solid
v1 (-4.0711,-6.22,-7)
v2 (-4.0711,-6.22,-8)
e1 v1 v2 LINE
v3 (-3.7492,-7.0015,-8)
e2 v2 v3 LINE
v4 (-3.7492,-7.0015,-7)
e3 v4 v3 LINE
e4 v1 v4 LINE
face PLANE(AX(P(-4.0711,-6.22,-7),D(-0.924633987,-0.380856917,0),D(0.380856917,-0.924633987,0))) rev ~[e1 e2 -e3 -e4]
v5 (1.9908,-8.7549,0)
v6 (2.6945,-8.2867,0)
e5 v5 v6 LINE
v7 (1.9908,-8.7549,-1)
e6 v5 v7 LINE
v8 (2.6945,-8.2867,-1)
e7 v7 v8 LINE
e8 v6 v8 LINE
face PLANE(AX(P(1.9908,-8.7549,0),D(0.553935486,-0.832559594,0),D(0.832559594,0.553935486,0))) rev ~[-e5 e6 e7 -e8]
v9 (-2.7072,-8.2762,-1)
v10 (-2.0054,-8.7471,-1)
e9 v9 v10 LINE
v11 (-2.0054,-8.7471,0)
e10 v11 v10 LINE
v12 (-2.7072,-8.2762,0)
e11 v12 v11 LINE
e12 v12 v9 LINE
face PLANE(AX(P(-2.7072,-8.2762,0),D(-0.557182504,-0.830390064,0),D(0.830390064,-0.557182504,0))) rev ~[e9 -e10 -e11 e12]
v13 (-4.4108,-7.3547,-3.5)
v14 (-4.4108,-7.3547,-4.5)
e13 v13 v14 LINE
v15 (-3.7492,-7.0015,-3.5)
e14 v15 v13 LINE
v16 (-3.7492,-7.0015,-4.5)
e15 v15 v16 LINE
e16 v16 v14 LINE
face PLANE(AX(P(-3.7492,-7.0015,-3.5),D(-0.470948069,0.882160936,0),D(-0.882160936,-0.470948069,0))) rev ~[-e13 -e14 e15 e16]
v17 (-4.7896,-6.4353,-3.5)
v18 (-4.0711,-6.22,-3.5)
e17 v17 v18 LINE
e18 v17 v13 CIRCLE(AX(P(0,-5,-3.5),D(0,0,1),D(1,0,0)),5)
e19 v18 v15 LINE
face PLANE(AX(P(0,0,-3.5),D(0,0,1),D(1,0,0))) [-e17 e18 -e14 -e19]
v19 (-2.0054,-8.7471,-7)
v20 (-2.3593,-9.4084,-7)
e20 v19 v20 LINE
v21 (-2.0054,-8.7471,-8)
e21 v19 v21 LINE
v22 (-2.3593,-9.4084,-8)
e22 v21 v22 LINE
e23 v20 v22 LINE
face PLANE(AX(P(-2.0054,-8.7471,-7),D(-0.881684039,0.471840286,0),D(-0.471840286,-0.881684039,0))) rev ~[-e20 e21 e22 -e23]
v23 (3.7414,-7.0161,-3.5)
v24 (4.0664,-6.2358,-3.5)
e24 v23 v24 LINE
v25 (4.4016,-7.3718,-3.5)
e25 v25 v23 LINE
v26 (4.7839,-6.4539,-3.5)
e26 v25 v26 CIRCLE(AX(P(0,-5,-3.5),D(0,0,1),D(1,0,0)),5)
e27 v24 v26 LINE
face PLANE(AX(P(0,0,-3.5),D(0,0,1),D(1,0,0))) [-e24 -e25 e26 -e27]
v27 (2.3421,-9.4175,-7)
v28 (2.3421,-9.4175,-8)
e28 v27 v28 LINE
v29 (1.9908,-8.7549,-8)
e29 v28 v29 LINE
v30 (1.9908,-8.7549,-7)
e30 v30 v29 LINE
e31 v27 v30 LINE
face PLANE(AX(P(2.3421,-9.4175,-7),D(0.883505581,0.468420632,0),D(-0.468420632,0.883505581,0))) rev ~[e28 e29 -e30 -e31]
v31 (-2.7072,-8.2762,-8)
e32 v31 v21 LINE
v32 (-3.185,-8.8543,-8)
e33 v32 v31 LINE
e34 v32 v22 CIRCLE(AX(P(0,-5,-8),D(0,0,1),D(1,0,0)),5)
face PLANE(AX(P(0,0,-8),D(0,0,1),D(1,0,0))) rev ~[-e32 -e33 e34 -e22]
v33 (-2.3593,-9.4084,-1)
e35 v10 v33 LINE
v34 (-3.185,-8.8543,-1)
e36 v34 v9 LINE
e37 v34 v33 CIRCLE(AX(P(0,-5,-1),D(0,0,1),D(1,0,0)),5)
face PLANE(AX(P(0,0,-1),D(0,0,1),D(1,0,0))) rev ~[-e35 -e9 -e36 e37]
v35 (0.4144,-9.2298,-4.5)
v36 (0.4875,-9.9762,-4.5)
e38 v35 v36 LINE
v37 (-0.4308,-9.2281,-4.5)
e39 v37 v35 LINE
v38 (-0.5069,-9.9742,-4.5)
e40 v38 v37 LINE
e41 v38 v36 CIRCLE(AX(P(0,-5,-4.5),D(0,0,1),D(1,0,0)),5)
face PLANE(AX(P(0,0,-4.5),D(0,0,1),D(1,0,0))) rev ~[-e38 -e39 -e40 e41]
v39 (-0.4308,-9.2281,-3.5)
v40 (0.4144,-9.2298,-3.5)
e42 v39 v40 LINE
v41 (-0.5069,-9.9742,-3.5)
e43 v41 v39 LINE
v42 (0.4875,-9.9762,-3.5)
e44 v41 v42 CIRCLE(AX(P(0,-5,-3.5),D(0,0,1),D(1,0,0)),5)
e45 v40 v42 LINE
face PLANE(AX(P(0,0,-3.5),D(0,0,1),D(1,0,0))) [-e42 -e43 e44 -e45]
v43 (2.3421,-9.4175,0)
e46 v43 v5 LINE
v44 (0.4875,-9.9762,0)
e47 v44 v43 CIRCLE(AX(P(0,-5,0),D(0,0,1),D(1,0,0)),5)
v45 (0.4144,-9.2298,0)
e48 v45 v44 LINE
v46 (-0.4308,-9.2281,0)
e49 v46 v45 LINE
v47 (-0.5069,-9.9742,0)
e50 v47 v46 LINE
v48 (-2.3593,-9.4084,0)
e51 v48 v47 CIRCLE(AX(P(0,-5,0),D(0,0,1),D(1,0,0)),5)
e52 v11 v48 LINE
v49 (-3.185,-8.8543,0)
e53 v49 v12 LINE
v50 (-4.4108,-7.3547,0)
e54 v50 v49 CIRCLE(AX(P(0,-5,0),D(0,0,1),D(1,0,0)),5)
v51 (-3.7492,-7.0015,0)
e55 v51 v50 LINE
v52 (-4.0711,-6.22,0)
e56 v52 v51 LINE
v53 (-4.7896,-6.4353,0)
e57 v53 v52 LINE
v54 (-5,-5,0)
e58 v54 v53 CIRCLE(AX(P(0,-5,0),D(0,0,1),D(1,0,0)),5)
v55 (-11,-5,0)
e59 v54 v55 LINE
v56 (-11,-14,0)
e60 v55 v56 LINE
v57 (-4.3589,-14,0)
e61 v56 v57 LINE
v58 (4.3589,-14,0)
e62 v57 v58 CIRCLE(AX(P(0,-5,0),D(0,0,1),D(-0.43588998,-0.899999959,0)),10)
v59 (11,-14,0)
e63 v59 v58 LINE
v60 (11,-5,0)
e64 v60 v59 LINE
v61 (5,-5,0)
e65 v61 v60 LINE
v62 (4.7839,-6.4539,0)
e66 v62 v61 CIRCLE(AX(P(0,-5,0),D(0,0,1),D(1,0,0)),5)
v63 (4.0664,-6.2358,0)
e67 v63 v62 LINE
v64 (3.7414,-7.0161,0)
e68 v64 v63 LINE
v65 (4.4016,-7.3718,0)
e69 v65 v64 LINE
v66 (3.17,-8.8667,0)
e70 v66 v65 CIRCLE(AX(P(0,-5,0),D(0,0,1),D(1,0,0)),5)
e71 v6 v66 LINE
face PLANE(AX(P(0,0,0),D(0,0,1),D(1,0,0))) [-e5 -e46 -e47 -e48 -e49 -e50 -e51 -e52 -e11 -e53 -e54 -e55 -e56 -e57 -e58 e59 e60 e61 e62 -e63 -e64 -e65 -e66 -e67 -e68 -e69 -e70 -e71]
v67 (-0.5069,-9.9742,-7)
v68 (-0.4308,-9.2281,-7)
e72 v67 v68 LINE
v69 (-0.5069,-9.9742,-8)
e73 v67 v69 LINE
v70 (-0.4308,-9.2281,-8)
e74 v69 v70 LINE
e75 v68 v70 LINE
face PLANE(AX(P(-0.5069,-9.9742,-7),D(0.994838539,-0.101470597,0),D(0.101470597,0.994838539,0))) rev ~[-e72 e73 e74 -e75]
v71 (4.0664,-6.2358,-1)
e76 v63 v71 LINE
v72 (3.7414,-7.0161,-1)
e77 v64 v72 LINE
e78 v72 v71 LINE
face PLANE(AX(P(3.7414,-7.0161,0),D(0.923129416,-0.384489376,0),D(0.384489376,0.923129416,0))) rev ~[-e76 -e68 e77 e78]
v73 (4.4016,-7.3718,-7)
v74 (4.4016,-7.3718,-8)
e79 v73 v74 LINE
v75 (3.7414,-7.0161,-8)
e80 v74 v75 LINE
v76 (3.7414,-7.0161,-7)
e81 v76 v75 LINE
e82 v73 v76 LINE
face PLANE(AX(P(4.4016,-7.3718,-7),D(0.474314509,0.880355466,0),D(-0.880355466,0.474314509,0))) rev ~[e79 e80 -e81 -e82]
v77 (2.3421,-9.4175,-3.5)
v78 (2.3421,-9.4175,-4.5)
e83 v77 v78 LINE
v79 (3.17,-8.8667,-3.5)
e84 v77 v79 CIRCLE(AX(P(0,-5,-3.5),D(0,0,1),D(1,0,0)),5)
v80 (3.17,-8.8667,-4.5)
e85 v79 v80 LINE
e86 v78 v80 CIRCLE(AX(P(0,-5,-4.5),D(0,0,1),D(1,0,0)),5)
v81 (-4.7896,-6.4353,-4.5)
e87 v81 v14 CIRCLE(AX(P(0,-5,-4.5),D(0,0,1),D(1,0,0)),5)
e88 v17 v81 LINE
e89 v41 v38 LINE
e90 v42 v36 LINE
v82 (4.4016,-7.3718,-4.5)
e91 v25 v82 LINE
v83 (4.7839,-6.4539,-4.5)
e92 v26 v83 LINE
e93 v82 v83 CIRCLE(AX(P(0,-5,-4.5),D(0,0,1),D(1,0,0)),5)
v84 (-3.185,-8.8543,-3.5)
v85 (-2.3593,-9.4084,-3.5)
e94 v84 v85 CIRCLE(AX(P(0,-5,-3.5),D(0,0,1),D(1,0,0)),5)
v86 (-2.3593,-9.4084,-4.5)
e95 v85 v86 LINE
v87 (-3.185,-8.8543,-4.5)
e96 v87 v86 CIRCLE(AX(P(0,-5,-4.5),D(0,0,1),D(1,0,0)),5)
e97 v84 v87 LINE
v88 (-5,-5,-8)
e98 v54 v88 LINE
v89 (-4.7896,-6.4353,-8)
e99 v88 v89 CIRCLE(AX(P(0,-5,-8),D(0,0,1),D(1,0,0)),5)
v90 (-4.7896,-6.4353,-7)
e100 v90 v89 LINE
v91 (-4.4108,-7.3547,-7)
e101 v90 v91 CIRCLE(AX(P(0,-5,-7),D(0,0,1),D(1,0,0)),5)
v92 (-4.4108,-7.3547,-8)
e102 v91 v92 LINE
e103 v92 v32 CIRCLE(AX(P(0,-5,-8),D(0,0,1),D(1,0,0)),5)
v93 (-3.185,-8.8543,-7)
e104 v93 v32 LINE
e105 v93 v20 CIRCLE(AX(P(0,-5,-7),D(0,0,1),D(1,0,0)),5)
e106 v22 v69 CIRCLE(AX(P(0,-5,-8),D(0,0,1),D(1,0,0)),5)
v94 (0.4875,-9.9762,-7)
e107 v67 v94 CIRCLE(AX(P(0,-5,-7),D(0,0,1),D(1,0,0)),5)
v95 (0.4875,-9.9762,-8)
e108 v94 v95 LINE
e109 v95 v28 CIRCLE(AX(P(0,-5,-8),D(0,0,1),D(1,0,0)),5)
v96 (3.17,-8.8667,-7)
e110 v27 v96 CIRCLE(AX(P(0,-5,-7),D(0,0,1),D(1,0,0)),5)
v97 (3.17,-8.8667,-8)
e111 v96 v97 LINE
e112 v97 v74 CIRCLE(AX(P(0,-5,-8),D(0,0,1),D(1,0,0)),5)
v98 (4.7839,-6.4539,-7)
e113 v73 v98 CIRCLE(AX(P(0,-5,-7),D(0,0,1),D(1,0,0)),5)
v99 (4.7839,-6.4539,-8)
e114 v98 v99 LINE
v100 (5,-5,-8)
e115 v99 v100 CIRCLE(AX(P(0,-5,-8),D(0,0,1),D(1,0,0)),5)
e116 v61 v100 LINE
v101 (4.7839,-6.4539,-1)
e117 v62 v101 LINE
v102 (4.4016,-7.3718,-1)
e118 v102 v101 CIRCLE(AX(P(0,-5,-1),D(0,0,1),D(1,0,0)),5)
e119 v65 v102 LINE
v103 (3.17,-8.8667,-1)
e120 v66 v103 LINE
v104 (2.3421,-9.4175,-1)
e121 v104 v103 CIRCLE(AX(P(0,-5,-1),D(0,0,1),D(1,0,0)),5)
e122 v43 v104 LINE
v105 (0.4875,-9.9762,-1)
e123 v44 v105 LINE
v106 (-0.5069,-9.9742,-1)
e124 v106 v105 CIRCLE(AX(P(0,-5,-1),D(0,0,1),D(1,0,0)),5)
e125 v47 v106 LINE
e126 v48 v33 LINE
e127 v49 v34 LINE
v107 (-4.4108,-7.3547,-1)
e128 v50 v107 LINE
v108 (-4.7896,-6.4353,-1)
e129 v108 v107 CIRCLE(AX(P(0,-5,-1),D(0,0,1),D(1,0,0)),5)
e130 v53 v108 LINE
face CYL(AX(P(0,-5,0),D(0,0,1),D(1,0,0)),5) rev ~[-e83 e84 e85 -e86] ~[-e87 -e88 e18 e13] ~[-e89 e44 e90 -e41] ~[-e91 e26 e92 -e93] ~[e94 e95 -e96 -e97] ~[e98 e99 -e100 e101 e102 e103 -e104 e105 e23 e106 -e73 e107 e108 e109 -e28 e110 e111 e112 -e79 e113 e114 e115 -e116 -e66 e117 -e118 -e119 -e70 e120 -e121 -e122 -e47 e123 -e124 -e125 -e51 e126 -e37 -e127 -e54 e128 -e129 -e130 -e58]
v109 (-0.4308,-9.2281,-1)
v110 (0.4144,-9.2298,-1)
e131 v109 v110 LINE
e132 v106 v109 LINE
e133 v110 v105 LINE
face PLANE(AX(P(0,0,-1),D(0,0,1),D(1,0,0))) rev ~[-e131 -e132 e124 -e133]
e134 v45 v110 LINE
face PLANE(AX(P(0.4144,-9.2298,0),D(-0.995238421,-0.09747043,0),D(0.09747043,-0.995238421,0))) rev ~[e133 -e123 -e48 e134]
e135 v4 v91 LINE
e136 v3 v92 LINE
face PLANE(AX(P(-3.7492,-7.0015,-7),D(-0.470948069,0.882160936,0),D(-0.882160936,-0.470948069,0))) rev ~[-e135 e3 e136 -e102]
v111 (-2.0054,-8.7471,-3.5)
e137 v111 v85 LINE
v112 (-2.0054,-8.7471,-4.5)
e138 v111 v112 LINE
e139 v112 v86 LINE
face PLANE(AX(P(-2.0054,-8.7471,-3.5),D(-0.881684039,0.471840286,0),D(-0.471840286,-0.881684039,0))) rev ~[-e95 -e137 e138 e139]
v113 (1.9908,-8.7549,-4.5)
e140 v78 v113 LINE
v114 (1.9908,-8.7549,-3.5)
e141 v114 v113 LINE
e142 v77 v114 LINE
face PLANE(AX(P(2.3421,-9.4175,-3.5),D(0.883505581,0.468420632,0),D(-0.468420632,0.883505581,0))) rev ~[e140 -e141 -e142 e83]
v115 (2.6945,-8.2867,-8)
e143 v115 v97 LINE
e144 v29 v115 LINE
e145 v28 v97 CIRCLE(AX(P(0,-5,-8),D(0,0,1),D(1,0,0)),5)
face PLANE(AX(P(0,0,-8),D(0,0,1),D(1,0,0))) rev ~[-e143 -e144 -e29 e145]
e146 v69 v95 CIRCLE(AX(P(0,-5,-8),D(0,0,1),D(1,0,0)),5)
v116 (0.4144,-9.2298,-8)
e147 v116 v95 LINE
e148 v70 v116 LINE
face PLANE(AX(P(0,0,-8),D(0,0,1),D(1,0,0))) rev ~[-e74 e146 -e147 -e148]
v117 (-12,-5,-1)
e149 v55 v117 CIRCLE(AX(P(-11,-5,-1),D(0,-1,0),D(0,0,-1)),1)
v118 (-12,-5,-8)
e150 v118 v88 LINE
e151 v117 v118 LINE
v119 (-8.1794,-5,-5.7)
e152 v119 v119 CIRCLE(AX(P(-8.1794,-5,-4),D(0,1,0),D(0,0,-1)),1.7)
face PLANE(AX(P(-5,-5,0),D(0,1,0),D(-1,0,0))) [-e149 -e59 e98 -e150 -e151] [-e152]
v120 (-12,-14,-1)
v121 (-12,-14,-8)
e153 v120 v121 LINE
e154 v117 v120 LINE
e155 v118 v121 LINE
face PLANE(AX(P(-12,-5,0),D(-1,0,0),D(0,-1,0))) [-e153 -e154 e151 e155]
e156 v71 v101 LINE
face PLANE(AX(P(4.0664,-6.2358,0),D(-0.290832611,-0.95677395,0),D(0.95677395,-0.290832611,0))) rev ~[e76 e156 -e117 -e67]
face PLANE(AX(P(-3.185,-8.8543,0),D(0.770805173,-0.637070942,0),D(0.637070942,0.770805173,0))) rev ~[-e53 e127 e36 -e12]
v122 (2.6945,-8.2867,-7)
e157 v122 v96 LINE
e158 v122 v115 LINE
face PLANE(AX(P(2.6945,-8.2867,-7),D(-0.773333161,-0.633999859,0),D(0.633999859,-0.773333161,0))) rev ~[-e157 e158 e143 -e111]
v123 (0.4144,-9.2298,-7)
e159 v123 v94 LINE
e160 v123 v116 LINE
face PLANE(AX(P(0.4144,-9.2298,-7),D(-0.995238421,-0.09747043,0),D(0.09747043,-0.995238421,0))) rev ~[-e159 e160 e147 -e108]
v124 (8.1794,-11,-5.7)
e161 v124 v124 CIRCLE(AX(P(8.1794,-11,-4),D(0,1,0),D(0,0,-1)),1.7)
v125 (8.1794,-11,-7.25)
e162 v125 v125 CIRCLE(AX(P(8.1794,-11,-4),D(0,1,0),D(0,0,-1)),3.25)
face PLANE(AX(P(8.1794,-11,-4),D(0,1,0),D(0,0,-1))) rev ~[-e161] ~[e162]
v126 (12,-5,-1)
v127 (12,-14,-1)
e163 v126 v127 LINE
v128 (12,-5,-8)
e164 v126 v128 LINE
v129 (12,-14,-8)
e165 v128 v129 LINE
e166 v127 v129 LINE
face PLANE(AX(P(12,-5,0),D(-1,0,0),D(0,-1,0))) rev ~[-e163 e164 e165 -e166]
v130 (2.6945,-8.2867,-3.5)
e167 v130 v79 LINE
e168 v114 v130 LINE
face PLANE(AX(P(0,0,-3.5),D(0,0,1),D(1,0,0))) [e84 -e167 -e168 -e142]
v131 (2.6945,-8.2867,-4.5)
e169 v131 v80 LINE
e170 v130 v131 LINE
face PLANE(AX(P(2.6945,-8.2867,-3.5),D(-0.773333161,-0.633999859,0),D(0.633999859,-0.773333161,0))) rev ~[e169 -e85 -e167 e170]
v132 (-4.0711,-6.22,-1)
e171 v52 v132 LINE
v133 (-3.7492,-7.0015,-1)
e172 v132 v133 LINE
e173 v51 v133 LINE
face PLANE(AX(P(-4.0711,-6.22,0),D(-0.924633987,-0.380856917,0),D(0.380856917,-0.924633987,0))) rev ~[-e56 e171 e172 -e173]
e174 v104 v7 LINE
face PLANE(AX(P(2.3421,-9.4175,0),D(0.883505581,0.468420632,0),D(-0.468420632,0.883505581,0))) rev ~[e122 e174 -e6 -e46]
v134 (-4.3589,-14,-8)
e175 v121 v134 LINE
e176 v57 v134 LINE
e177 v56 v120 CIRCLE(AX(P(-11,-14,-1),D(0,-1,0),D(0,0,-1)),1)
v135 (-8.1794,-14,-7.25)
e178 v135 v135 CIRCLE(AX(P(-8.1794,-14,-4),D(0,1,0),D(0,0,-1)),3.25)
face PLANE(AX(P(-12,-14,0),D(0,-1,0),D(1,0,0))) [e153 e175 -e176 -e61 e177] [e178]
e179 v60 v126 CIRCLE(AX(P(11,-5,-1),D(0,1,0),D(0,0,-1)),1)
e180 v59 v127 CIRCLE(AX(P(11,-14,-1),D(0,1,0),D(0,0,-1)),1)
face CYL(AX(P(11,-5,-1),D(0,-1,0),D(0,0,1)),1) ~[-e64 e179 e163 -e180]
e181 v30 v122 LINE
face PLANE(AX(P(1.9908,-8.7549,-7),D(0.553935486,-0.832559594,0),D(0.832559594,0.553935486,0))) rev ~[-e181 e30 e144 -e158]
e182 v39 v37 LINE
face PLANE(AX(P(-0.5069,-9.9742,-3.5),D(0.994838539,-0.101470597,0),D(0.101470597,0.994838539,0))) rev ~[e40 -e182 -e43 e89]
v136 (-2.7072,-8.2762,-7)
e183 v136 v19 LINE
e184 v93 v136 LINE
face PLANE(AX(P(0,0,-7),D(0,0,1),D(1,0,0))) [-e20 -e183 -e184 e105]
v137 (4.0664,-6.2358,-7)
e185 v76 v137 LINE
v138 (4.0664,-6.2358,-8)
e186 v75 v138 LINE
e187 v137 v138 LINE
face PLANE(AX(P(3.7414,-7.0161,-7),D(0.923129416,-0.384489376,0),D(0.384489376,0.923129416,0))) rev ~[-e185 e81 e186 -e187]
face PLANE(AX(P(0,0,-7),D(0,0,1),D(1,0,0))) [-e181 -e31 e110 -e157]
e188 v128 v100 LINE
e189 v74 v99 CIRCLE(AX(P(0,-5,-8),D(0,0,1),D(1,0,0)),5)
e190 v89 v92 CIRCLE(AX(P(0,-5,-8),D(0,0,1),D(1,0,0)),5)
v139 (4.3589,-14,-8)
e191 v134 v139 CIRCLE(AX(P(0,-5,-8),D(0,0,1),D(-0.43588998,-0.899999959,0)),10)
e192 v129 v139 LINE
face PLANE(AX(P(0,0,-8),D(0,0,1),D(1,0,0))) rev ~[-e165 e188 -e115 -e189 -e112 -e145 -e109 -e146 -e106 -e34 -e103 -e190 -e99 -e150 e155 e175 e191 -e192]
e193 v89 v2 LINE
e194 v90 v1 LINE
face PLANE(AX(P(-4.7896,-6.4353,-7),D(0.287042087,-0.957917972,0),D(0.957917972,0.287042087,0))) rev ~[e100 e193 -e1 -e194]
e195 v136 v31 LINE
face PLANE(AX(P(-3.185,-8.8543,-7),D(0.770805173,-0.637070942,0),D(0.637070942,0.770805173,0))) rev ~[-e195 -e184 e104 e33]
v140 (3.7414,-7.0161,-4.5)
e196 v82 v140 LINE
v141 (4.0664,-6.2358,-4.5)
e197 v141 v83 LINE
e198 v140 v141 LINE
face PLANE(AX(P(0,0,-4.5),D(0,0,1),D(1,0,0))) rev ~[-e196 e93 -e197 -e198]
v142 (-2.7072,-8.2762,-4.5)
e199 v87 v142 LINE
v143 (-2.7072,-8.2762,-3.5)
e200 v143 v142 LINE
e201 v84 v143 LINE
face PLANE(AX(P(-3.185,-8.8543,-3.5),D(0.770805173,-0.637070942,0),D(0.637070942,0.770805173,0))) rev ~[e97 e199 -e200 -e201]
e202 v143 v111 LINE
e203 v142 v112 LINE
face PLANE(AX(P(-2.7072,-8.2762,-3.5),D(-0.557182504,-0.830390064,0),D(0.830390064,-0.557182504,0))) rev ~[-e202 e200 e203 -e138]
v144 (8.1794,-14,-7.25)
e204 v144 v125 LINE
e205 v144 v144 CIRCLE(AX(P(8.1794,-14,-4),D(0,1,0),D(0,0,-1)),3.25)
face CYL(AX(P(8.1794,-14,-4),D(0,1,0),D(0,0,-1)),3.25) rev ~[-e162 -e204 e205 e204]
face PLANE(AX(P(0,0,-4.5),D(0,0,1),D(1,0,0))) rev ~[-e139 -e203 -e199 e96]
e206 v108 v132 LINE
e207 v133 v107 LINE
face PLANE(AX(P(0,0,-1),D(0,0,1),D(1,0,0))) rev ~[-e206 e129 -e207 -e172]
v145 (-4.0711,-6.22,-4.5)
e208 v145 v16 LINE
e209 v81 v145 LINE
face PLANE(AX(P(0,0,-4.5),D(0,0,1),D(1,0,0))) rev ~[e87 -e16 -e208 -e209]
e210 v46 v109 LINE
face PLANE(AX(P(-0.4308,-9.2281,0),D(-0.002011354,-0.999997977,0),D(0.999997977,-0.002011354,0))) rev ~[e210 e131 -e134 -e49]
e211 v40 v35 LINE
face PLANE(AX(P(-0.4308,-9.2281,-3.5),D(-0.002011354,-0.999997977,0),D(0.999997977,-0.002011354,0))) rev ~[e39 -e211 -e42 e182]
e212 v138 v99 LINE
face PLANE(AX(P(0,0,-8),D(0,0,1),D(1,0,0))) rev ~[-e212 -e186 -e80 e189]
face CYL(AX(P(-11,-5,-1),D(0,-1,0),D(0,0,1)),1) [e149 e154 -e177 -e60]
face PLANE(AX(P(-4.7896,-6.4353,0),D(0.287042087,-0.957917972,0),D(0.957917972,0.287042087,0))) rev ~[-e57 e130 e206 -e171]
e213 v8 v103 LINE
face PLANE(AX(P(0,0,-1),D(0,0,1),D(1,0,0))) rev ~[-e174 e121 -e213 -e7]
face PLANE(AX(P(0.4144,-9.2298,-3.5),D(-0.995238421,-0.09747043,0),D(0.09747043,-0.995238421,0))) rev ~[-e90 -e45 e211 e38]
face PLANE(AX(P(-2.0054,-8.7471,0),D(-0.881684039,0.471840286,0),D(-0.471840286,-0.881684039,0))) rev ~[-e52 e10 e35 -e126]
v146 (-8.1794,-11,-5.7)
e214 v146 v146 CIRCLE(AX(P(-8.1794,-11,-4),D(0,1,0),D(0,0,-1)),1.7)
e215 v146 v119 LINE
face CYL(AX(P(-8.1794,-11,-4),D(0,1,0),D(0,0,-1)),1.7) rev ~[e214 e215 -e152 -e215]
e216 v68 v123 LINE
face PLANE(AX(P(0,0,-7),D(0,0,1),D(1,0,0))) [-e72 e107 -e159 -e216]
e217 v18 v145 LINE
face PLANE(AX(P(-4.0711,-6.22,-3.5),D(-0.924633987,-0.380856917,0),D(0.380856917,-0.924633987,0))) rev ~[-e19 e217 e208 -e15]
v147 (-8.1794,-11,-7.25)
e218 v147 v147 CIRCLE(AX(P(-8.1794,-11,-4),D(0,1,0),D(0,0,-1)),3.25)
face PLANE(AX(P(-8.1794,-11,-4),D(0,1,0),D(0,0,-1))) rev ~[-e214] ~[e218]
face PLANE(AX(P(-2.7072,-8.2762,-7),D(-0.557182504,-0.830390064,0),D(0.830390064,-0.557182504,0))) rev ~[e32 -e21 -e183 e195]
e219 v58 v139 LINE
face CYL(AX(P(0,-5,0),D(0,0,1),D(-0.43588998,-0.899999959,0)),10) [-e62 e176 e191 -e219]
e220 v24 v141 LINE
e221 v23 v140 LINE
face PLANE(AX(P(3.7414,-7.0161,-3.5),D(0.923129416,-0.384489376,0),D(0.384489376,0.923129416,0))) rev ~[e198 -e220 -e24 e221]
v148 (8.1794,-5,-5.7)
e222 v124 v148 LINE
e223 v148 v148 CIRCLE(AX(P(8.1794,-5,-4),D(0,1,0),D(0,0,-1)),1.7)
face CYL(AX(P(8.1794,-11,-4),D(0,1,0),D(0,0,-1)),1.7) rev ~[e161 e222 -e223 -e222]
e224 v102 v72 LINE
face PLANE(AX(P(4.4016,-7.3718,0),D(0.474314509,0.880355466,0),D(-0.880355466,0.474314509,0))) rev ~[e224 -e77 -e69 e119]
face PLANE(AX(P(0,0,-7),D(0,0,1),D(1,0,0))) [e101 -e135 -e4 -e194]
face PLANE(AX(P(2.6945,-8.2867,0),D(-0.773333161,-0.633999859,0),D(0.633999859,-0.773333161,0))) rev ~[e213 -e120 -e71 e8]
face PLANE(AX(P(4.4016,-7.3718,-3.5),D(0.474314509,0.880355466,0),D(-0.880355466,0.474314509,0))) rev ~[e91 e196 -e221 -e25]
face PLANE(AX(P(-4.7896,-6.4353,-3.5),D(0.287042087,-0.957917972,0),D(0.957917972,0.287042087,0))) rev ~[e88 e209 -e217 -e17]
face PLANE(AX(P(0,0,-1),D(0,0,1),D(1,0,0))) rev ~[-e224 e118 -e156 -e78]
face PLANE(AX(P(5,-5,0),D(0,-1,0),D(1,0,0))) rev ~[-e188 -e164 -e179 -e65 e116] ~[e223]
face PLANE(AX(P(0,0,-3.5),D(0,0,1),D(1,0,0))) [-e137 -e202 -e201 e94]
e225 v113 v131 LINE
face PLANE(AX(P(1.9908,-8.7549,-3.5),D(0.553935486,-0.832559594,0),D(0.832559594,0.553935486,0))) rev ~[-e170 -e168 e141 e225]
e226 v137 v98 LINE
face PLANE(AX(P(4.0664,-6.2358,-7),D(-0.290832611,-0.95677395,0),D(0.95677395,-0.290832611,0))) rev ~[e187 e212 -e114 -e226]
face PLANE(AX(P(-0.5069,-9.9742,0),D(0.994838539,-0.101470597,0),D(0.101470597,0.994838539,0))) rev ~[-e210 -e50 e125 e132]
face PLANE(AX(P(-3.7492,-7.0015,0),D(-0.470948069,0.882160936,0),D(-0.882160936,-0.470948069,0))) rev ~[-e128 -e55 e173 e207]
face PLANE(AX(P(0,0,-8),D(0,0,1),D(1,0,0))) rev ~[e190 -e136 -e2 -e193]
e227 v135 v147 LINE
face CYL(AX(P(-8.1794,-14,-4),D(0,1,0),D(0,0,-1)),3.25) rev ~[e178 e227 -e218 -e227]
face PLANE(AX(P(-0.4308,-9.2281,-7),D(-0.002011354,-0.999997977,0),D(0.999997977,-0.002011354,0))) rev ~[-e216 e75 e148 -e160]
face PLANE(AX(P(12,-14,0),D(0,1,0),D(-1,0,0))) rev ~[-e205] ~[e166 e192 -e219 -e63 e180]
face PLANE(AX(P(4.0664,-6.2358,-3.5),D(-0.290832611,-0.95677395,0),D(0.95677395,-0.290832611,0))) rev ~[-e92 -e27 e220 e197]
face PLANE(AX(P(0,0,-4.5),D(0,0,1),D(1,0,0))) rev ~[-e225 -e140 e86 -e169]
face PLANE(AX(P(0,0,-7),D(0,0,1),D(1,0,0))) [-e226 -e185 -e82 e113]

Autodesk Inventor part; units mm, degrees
ref_plane "YZ Plane" through (0, 0, 0) normal (1, 0, 0) x (0, 1, 0)
ref_plane "XZ Plane" through (0, 0, 0) normal (0, 1, 0) x (-1, 0, 0)
sketch "Sketch1" plane through (0, 0, 0) normal (0, 0, 1) x (1, 0, 0)
  arc A0 (5, -5) -> (-5, -5) centre (0, -5) ccw projected
  circle A1 centre (0, -5) radius 5
  arc A2 (4.3589, 4) -> (-4.3589, 4) centre (0, -5) ccw projected
  line L0 (12, -5) -> (12, 4) projected
  line L1 (11, 4) -> (4.3589, 4) projected
  line L2 (12, 4) -> (0, 4)
  line L3 (0, 4) -> (0, -5)
  line L4 (0, -5) -> (12, -5)
  line L5 (12, -5) -> (12, 4)
  arc A3 (-4.3589, -14) -> (4.3589, -14) centre (0, -5) ccw
  line L6 (12, -5) -> (12, -14)
  line L7 (12, -14) -> (0, -14)
  line L8 (-12, -5) -> (-12, 4)
  line L9 (-12, 4) -> (0, 4)
  line L10 (0, -5) -> (-12, -5)
  line L11 (-12, -14) -> (0, -14)
  line L12 (-12, -5) -> (-12, -14)
  circle A4 centre (0, -5) radius 10
  point P0 (0, 0)
ref_plane "Work Plane1" through (-11, -5, -8) normal (0, 0, -1) x (0, 1, 0)
extrude "Extrusion1" add sketch "Sketch1" against normal up to surface (8 mm away) contours L4 A4 L7 L11 L10 A1 | L4 L6 L7 A4 | A4 L11 L12 L10 | A3 L11 L7
sketch "Sketch2" plane through (4.3589, -14, 0) normal (0, -1, 0) x (1, 0, 0)
  circle A0 centre (3.8206, -4) radius 1.7 projected
  circle A1 centre (-12.5383, -4) radius 1.7 projected
  point P0 (-4.3589, 0)
hole "Hole1" at (-8.1794, -14, -4) at (8.1794, -14, -4) direction (0, 1, 0) diameter 3.4 end through all counterbore diameter 6.5 counterbore depth 3 clearance for "Socket Head Cap Screw" size "M3" standard "Ansi Metric M Profile"
fillet "Fillet1" radius 1 2 edges at (12, -9.5, 0) (-12, -9.5, 0)
sketch "Sketch3" plane through (0, 0, 0) normal (0, 0, 1) x (1, 0, 0)
  line L0 (-8, 4.75) -> (11, 4.75) projected
  line L1 (-8, 4.75) -> (-8, -5) projected
  line L2 (-8, -5) -> (-5, -5) projected
  arc A0 (-4.7896, -3.5647) -> (-5, -5) centre (0, -5) ccw projected
  line L3 (-4.7896, -3.5647) -> (-4.0711, -3.78) projected
  line L4 (-4.0711, -3.78) -> (-3.7492, -2.9985) projected
  line L5 (-3.7492, -2.9985) -> (-4.4108, -2.6453) projected
  arc A1 (-3.185, -1.1457) -> (-4.4108, -2.6453) centre (0, -5) ccw projected
  line L6 (-3.185, -1.1457) -> (-2.7072, -1.7238) projected
  line L7 (-2.7072, -1.7238) -> (-2.0054, -1.2529) projected
  line L8 (-2.0054, -1.2529) -> (-2.3593, -0.5916) projected
  arc A2 (-0.5069, -0.0258) -> (-2.3593, -0.5916) centre (0, -5) ccw projected
  line L9 (-0.5069, -0.0258) -> (-0.4308, -0.7719) projected
  line L10 (-0.4308, -0.7719) -> (0.4144, -0.7702) projected
  line L11 (0.4144, -0.7702) -> (0.4875, -0.0238) projected
  arc A3 (2.3421, -0.5825) -> (0.4875, -0.0238) centre (0, -5) ccw projected
  line L12 (2.3421, -0.5825) -> (1.9908, -1.2451) projected
  line L13 (1.9908, -1.2451) -> (2.6945, -1.7133) projected
  line L14 (2.6945, -1.7133) -> (3.17, -1.1333) projected
  arc A4 (4.4016, -2.6282) -> (3.17, -1.1333) centre (0, -5) ccw projected
  line L15 (4.4016, -2.6282) -> (3.7414, -2.9839) projected
  line L16 (3.7414, -2.9839) -> (4.0664, -3.7642) projected
  line L17 (4.0664, -3.7642) -> (4.7839, -3.5461) projected
  arc A5 (5, -5) -> (4.7839, -3.5461) centre (0, -5) ccw projected
  line L18 (5, -5) -> (11, -5) projected
  line L19 (11, 4.75) -> (11, -5) projected
  circle A6 centre (0, -5) radius 5
  line L20 (-4.7896, -6.4353) -> (-4.0711, -6.22)
  line L21 (-4.0711, -6.22) -> (-3.7492, -7.0015)
  line L22 (-3.7492, -7.0015) -> (-4.4108, -7.3547)
  arc A7 (-4.4108, -7.3547) -> (-3.185, -8.8543) centre (0, -5) ccw
  line L23 (-3.185, -8.8543) -> (-2.7072, -8.2762)
  line L24 (-2.7072, -8.2762) -> (-2.0054, -8.7471)
  line L25 (-2.0054, -8.7471) -> (-2.3593, -9.4084)
  arc A8 (-2.3593, -9.4084) -> (-0.5069, -9.9742) centre (0, -5) ccw
  line L26 (-0.5069, -9.9742) -> (-0.4308, -9.2281)
  line L27 (-0.4308, -9.2281) -> (0.4144, -9.2298)
  line L28 (0.4144, -9.2298) -> (0.4875, -9.9762)
  arc A9 (0.4875, -9.9762) -> (2.3421, -9.4175) centre (0, -5) ccw
  line L29 (2.3421, -9.4175) -> (1.9908, -8.7549)
  line L30 (1.9908, -8.7549) -> (2.6945, -8.2867)
  line L31 (2.6945, -8.2867) -> (3.17, -8.8667)
  arc A10 (3.17, -8.8667) -> (4.4016, -7.3718) centre (0, -5) ccw
  line L32 (4.4016, -7.3718) -> (3.7414, -7.0161)
  line L33 (3.7414, -7.0161) -> (4.0664, -6.2358)
  line L34 (4.0664, -6.2358) -> (4.7839, -6.4539)
  point P0 (0, 0)
  point P1 (0, -10)
  point P2 (-4.4108, -7.3547)
  point P3 (-0.5069, -9.9742)
  point P4 (2.3421, -9.4175)
  point P5 (4.4016, -7.3718)
extrude "Extrusion2" add sketch "Sketch3" against normal blind 1 contours L20 L21 L22 A6 | A6 L32 L33 L34 | L23 L24 L25 A6 | A6 L29 L30 L31 | L26 L27 L28 A6
pattern_linear "Rectangular Pattern1" count 3 spacing 3.5 along (0, 0, -1) of "Extrusion2"
properties part number "Bed Cable Harness Cable Clamp"
